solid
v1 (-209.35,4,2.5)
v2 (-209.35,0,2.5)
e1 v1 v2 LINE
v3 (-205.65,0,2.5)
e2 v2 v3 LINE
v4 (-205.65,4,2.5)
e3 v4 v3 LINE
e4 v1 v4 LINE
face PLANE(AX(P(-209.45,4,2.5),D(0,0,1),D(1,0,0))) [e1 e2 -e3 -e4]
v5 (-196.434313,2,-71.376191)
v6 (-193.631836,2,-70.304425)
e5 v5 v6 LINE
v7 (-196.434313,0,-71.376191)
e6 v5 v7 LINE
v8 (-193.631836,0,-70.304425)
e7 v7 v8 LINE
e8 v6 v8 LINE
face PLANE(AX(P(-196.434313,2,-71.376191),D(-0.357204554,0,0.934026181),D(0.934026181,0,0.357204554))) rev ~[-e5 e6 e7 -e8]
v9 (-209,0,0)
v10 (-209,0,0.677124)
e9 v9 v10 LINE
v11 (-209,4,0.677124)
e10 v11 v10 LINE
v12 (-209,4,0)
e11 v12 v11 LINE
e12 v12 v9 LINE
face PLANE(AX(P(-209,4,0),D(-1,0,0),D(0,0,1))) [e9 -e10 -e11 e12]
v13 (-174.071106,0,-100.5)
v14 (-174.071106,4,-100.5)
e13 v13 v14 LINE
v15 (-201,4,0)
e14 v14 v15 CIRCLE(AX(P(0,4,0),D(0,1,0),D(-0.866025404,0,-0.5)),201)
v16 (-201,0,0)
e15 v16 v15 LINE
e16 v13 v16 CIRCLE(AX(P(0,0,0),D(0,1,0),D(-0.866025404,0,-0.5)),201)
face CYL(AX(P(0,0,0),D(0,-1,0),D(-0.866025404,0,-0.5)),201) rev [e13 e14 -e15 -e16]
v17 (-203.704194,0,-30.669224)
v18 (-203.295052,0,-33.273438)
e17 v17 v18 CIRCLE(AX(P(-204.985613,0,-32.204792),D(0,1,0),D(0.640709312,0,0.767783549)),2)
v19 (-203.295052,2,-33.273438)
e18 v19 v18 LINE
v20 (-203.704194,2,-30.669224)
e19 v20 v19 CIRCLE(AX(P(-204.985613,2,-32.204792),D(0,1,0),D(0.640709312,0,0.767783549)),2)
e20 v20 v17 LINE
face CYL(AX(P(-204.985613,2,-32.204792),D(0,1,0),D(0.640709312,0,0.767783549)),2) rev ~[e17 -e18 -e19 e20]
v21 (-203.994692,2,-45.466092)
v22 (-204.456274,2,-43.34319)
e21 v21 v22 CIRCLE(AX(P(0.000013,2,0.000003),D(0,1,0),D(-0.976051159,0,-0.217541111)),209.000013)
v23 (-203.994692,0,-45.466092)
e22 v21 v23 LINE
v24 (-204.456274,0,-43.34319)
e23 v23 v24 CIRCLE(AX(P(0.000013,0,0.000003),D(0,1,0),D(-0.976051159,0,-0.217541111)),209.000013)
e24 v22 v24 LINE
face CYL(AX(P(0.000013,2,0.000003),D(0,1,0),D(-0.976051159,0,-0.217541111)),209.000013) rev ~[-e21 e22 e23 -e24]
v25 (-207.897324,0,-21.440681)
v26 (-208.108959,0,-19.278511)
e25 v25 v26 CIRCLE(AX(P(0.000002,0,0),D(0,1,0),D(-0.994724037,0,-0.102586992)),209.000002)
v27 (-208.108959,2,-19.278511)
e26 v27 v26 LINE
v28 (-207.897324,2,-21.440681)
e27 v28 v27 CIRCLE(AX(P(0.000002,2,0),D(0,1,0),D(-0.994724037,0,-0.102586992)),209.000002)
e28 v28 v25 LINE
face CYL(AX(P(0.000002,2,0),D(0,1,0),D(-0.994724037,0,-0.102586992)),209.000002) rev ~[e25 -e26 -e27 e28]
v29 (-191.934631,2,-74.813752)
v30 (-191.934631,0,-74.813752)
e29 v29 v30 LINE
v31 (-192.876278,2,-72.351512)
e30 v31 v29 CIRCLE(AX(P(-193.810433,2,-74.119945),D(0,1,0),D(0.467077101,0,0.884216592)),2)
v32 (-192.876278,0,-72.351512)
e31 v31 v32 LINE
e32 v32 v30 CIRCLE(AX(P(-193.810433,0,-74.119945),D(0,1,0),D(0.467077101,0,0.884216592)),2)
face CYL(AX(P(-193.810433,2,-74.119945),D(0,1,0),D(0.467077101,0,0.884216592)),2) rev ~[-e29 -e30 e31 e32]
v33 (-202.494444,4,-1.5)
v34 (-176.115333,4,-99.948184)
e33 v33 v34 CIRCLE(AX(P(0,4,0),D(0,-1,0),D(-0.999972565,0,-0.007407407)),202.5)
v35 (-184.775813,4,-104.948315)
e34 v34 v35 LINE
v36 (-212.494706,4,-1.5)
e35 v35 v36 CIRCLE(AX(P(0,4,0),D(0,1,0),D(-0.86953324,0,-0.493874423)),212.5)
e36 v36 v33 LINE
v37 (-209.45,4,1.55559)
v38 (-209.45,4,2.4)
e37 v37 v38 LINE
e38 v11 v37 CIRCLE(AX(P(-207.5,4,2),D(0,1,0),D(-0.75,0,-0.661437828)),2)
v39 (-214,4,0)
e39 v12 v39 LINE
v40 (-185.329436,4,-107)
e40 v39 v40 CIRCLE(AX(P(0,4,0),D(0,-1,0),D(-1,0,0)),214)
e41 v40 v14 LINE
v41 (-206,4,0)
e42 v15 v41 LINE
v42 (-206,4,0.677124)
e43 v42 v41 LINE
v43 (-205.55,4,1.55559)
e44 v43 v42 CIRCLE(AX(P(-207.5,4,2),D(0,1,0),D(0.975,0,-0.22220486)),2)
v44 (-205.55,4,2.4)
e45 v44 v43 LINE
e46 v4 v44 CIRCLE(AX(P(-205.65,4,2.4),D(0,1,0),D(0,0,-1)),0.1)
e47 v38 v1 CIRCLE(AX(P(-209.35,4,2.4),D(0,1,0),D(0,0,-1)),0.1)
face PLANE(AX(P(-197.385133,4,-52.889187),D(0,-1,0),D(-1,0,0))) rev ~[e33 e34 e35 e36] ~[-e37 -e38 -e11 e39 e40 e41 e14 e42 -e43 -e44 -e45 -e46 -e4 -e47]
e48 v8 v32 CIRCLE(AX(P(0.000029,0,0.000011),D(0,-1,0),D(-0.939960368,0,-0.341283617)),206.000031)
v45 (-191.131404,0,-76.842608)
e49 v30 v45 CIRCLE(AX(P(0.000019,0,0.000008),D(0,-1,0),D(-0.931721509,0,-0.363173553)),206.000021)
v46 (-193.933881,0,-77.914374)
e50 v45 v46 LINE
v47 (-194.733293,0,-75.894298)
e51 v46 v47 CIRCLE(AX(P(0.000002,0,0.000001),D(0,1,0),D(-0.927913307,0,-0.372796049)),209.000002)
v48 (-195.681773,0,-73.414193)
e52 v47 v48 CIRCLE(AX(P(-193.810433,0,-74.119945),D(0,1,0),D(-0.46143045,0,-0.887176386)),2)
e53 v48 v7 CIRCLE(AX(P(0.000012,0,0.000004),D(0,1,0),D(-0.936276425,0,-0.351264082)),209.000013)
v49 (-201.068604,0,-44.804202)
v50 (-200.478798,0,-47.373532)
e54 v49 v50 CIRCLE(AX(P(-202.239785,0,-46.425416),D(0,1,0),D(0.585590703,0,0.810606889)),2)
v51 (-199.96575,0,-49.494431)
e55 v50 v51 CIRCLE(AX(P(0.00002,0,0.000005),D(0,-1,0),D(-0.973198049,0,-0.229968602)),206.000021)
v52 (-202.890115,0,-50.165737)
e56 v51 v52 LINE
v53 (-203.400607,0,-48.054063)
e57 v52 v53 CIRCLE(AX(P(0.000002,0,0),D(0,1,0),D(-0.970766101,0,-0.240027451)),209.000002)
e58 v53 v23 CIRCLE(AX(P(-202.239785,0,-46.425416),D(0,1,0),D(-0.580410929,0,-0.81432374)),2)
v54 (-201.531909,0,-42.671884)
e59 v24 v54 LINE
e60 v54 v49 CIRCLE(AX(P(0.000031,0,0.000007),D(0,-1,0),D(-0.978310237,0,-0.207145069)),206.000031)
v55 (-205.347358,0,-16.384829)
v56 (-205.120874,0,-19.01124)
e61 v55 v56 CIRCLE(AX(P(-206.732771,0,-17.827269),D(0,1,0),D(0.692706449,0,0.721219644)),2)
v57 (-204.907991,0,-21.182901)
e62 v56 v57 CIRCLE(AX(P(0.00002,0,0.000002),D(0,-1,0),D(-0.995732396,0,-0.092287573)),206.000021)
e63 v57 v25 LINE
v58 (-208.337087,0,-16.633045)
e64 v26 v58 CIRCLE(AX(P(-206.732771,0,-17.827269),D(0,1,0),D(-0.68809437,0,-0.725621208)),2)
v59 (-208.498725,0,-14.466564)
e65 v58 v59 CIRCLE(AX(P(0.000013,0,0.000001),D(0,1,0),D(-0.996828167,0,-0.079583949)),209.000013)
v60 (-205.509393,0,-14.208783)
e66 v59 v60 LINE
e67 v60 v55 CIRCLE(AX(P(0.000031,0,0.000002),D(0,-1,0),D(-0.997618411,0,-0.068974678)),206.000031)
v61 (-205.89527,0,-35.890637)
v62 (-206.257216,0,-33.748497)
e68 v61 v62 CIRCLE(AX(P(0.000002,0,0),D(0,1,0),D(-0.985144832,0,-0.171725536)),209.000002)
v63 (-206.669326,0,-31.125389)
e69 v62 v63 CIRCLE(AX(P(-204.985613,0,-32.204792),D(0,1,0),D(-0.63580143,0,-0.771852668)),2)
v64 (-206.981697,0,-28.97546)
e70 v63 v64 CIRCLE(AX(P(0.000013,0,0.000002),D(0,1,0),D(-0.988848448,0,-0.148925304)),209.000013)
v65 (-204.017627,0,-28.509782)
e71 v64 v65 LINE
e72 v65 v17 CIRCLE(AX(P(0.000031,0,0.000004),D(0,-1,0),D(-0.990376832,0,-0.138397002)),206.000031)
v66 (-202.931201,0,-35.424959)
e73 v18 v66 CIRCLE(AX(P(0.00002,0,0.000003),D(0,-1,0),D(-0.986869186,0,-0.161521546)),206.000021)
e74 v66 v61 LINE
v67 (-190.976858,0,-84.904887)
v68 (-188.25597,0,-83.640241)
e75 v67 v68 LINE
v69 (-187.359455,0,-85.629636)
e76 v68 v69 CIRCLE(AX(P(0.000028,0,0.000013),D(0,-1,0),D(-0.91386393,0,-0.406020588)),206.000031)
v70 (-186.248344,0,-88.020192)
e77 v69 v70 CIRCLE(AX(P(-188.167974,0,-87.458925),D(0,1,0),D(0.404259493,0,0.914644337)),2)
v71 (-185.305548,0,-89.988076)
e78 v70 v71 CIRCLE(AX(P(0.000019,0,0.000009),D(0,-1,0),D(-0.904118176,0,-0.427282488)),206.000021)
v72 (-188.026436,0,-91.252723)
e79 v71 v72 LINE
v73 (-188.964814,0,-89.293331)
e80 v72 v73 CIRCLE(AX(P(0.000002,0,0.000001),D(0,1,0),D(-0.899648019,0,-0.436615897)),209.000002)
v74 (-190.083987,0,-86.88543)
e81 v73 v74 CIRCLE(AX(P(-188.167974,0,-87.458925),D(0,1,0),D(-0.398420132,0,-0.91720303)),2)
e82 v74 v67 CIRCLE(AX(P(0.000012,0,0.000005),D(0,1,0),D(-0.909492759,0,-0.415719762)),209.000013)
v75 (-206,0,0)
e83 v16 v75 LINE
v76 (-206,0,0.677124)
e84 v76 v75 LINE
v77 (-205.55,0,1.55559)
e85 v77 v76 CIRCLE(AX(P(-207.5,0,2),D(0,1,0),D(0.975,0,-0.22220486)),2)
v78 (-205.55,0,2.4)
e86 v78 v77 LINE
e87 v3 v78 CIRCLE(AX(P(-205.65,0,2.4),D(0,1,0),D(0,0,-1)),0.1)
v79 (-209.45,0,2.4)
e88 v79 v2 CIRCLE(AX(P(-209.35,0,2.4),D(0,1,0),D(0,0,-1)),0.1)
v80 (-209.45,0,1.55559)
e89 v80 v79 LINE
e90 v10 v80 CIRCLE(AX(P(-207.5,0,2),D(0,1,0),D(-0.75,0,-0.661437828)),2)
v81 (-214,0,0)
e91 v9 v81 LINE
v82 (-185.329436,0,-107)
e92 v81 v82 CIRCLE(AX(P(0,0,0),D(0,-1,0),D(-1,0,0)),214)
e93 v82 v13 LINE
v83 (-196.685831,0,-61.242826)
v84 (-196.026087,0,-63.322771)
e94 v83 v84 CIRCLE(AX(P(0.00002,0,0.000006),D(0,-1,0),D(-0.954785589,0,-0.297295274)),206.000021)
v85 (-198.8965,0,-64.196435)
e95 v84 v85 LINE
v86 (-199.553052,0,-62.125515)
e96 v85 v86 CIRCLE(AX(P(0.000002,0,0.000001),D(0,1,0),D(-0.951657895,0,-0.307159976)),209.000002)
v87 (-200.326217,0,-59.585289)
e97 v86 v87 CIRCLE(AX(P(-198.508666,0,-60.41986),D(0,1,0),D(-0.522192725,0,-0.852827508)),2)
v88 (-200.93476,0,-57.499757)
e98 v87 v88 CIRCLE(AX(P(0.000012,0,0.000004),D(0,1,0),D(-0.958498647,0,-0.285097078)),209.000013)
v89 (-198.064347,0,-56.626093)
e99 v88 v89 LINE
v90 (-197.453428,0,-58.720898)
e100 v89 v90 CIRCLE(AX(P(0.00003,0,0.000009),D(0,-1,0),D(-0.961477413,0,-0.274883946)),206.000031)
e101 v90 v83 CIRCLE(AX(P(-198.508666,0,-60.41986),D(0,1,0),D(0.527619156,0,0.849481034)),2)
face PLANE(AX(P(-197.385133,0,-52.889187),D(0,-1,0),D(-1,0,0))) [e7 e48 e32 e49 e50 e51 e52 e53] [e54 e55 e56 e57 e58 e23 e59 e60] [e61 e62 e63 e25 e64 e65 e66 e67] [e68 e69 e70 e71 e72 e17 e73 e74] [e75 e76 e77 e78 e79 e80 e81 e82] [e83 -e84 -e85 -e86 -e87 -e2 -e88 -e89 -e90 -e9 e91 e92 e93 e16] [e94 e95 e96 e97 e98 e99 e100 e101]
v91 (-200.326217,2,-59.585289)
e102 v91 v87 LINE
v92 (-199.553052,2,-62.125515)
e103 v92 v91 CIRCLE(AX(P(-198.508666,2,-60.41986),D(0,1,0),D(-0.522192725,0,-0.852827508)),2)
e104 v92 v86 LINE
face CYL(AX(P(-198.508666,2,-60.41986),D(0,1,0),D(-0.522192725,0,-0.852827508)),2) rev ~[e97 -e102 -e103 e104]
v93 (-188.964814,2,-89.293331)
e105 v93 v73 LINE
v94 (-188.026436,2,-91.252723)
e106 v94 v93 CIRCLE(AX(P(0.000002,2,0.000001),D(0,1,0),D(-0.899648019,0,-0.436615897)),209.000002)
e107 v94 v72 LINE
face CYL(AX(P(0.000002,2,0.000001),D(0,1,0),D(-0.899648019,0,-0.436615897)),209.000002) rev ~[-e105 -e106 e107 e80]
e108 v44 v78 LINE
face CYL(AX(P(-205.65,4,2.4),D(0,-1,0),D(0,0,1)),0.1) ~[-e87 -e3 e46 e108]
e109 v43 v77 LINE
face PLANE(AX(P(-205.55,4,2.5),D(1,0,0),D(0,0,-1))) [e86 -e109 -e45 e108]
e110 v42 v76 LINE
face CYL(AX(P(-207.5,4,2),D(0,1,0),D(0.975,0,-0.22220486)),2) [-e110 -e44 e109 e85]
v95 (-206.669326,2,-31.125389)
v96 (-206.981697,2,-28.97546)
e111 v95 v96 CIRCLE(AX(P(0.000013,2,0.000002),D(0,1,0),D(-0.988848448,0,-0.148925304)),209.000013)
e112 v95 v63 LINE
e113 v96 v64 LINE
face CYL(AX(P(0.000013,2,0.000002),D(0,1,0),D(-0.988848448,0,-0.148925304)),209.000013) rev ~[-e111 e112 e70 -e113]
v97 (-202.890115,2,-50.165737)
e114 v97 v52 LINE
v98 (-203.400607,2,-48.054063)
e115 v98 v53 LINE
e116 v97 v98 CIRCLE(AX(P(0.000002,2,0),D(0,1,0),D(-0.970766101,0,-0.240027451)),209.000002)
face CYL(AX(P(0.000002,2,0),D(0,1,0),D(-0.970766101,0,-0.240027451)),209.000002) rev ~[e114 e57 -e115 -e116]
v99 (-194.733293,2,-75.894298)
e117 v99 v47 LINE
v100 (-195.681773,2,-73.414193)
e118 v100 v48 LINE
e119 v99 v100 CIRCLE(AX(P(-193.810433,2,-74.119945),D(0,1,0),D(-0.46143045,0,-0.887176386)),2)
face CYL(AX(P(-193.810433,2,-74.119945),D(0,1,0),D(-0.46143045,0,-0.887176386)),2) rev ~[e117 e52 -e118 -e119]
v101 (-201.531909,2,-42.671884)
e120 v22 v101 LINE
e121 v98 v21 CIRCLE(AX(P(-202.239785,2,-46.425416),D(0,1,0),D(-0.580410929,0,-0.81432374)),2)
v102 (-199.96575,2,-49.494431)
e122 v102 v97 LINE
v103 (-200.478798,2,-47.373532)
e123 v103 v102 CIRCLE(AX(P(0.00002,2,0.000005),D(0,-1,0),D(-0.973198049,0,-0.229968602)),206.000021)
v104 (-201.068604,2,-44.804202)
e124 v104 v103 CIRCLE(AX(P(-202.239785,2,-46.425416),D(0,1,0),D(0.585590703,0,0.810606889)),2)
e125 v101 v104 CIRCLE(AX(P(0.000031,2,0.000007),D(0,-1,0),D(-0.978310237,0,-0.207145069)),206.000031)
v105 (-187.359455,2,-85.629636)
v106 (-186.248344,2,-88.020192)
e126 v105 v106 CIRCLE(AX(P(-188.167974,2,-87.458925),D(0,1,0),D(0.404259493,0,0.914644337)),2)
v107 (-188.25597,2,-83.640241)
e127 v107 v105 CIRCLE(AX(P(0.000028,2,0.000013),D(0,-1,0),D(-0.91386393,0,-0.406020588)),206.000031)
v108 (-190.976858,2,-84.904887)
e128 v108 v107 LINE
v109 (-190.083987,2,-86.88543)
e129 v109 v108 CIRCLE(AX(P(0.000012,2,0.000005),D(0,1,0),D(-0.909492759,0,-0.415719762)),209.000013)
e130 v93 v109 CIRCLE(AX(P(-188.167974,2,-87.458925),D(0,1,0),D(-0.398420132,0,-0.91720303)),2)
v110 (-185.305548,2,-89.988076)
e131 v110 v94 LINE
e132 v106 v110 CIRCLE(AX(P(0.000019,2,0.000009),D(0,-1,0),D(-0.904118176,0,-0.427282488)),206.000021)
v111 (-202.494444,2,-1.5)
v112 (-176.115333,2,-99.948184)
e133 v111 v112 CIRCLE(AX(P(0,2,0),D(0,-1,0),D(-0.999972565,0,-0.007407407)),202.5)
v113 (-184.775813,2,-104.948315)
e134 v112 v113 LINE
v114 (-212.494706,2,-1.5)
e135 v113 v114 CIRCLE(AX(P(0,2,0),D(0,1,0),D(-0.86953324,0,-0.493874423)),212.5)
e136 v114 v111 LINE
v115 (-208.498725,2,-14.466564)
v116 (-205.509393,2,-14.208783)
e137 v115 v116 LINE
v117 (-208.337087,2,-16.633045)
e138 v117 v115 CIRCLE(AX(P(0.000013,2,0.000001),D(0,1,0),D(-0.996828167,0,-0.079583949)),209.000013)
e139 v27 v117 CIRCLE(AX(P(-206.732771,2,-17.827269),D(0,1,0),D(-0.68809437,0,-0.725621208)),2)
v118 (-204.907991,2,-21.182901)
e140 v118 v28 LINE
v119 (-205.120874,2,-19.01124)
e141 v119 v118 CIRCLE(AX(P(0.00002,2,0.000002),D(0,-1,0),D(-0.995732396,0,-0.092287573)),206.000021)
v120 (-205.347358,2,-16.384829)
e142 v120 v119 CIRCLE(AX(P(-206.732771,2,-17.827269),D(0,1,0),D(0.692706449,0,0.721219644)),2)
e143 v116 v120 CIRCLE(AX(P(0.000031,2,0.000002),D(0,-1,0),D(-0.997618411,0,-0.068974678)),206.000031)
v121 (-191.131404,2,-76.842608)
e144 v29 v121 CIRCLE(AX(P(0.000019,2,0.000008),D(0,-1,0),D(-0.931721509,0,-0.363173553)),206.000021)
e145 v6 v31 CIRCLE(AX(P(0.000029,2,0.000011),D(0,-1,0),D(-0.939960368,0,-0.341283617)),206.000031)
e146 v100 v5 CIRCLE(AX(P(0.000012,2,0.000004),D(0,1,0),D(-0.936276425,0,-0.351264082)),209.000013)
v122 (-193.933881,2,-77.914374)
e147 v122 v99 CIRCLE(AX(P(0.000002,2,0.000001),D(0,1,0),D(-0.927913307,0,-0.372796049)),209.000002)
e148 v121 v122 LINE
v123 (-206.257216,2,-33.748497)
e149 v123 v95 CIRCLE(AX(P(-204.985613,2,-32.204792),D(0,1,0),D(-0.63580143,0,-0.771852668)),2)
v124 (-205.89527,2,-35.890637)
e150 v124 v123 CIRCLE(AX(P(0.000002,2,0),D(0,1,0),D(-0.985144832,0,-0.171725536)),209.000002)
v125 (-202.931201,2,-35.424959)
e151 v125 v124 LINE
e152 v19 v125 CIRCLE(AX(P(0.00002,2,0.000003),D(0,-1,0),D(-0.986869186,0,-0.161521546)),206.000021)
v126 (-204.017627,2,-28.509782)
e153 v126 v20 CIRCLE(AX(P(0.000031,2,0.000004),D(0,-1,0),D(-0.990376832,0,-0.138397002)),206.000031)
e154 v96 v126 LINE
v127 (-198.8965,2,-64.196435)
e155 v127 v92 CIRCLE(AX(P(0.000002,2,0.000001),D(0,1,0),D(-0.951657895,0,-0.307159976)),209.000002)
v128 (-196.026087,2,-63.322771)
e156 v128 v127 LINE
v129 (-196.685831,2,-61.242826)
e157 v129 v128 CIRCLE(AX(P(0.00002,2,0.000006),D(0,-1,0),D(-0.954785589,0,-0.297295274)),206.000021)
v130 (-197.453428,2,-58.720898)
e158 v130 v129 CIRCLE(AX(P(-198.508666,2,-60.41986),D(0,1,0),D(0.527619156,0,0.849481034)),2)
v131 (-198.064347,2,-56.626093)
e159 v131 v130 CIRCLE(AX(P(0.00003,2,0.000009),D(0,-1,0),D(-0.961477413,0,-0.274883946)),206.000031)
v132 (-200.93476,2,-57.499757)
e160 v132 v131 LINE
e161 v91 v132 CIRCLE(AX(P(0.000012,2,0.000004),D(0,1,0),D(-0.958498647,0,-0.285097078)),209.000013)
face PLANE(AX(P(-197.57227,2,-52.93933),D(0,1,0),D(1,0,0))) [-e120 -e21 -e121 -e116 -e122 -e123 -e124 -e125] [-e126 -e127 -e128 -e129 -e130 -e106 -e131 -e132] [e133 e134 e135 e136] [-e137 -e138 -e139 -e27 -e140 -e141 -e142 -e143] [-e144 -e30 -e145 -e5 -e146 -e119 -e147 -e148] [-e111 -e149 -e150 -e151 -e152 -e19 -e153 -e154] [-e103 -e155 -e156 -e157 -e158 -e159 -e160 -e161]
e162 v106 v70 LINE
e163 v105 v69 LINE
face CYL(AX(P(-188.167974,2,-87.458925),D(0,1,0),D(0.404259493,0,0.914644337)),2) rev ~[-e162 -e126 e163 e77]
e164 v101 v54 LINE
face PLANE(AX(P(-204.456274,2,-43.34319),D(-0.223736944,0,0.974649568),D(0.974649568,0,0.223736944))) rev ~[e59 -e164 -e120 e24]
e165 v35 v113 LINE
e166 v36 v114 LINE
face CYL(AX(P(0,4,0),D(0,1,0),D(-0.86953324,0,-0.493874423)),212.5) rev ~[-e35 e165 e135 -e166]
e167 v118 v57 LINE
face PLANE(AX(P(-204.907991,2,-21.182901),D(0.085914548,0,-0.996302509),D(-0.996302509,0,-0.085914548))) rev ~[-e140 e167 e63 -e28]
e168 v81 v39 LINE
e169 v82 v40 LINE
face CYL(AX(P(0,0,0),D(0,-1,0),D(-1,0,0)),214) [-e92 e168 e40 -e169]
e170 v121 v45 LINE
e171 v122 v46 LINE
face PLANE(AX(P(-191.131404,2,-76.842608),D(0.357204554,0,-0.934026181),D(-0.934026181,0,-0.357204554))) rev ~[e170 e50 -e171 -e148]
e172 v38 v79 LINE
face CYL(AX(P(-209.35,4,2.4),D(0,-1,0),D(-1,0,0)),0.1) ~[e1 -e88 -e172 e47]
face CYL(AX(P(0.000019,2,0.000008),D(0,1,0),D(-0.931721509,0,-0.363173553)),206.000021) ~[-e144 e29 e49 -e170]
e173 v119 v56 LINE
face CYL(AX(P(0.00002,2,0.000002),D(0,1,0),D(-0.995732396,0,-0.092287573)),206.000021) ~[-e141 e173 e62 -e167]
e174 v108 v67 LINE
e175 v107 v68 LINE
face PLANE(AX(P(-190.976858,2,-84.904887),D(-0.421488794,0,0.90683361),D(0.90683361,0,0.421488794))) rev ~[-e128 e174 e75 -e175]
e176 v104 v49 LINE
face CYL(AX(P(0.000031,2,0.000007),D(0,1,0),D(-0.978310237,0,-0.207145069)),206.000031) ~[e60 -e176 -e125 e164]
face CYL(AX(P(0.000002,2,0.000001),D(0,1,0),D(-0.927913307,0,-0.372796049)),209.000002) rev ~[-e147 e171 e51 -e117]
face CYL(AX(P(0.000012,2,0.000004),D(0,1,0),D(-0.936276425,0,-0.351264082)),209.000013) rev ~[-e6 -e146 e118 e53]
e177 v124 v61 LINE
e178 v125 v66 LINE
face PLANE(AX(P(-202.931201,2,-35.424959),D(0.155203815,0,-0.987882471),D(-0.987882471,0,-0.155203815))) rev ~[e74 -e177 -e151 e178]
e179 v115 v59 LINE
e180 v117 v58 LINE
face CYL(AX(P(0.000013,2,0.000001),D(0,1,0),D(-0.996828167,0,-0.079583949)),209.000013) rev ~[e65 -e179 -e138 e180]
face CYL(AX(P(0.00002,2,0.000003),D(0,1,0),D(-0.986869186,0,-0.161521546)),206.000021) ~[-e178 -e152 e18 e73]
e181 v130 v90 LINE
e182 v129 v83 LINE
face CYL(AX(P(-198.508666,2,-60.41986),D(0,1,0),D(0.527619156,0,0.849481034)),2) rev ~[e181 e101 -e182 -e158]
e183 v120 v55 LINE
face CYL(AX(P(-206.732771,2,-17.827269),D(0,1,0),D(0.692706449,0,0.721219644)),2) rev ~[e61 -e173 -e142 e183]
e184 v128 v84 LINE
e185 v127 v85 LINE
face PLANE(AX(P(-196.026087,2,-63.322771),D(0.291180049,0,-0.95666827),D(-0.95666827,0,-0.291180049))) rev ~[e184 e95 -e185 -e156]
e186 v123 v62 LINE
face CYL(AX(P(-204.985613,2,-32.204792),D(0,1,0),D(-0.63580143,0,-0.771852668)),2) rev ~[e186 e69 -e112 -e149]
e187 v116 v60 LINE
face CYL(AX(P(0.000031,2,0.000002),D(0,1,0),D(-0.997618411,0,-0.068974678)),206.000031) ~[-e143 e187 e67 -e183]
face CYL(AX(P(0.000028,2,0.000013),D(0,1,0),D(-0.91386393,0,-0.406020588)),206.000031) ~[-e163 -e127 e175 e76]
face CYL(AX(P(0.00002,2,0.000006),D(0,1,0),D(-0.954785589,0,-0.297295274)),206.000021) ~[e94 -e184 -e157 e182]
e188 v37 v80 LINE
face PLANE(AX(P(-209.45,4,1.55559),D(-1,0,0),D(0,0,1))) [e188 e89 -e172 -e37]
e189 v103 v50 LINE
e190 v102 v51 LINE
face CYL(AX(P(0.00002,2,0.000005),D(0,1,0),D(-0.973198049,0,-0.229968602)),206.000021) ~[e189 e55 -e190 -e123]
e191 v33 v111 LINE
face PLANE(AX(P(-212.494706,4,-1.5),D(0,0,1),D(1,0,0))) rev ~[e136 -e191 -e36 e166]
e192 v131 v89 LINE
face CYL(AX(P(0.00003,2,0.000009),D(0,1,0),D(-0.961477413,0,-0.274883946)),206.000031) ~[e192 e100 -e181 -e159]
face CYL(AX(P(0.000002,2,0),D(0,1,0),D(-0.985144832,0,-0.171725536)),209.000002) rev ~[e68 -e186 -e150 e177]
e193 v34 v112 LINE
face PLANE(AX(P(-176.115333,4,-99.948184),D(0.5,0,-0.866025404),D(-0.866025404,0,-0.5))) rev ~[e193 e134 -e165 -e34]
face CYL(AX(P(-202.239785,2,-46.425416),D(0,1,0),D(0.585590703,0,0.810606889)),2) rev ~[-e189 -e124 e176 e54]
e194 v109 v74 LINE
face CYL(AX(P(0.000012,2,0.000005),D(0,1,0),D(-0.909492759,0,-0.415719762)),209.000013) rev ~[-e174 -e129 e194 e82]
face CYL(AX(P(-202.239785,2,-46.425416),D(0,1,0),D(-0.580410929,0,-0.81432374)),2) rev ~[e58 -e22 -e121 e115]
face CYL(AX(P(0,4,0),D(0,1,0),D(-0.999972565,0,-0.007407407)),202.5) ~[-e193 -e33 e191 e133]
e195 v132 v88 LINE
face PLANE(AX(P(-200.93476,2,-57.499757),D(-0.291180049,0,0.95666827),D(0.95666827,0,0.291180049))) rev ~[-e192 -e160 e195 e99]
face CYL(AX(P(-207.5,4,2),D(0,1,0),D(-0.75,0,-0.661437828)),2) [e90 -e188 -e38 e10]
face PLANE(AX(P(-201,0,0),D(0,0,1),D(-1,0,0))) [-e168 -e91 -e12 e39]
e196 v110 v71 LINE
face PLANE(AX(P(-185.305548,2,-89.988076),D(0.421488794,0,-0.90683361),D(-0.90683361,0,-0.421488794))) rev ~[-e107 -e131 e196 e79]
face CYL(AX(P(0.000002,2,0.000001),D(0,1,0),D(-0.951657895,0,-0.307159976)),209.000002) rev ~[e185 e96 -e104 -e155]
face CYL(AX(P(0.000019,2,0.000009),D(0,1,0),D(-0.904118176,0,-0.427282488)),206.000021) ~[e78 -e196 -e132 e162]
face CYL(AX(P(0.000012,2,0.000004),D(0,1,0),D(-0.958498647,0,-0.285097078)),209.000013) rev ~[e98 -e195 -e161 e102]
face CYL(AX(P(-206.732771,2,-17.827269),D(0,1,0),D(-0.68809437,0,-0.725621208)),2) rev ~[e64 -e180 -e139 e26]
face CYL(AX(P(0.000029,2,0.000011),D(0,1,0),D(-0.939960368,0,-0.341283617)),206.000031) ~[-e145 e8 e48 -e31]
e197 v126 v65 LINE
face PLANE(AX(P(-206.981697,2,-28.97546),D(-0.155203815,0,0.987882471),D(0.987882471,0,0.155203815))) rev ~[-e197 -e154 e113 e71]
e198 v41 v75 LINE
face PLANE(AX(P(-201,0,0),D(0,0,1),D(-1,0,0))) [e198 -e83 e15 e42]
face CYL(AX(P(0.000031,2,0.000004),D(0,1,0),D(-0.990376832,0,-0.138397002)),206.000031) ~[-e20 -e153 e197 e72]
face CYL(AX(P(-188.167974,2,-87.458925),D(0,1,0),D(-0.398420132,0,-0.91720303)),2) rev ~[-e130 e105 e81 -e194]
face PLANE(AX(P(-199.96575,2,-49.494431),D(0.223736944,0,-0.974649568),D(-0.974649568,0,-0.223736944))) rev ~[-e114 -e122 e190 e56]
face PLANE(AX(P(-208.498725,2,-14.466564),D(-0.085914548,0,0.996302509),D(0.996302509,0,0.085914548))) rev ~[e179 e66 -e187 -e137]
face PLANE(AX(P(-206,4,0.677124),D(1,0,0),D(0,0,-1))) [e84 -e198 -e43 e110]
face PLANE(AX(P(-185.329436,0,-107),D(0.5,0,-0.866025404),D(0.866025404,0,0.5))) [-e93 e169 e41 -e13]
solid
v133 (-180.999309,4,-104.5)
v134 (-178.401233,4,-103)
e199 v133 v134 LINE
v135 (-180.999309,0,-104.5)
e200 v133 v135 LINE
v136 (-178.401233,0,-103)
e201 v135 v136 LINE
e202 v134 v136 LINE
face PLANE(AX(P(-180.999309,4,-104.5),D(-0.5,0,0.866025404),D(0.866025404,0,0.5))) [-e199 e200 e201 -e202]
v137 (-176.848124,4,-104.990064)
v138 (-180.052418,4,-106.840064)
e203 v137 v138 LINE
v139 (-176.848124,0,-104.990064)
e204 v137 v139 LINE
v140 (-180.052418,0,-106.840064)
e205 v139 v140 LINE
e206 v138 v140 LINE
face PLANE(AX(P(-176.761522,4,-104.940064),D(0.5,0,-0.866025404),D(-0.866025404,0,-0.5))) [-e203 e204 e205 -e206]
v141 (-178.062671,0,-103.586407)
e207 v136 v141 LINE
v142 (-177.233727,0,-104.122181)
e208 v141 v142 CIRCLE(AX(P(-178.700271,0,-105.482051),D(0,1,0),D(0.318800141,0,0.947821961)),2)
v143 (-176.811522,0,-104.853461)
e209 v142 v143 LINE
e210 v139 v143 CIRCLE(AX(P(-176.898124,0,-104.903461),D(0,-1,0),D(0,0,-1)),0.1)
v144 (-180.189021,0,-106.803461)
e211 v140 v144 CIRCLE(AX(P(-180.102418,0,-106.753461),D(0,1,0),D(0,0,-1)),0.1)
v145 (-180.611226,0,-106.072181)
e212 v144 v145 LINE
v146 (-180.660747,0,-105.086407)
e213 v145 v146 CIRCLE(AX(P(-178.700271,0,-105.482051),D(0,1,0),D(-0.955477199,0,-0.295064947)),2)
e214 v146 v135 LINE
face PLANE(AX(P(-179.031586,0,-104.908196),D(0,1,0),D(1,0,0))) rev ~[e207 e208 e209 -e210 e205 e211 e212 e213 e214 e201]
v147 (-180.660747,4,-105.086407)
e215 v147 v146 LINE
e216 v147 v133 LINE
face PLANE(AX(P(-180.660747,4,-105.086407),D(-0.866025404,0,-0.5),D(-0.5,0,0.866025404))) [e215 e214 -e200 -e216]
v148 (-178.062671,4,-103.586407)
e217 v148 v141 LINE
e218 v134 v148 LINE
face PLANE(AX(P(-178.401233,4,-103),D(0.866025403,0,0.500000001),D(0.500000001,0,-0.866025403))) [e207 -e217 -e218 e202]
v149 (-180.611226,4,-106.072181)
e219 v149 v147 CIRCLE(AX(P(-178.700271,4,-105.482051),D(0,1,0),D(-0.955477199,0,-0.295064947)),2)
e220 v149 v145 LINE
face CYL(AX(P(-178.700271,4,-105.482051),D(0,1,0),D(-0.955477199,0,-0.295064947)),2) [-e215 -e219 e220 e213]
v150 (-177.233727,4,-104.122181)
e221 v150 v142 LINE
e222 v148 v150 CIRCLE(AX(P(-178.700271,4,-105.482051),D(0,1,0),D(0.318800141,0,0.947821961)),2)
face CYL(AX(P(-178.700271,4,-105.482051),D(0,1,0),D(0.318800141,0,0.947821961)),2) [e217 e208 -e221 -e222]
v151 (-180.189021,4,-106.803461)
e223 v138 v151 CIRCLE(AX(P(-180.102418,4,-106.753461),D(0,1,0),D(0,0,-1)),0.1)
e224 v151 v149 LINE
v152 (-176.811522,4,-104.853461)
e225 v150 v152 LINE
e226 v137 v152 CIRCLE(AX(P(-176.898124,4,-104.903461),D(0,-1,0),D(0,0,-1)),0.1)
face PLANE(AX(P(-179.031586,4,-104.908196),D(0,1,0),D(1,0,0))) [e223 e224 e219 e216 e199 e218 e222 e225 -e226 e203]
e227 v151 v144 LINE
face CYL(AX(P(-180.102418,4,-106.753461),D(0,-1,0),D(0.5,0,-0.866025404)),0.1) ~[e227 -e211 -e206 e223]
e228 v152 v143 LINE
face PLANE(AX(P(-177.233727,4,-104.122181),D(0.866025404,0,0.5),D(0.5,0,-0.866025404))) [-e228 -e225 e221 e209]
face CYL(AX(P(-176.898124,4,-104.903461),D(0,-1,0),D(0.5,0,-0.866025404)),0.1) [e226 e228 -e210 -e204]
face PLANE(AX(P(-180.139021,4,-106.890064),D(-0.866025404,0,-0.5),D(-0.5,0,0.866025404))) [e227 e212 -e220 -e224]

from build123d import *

# Parameters (mm, degrees)
EXTRUDE_1_DEPTH          = 4
CUT_EXTRUDE_1_DEPTH      = 2
CUT_EXTRUDE_2_DEPTH      = 2
PATTERN_CIRCULAR_1_COUNT = 3
PATTERN_CIRCULAR_1_ANGLE = 8
PATTERN_CIRCULAR_2_COUNT = 4
PATTERN_CIRCULAR_2_ANGLE = 12
EXTRUDE_2_DEPTH          = 4
EXTRUDE_3_DEPTH          = 4
FILLET_1_R               = 0.1
FILLET_2_R               = 0.1


with BuildPart() as part:
    # 草图1 → 凸台-拉伸1 (new body)
    with BuildSketch(Plane(origin=(0, 0, 0), x_dir=(1, 0, 0), z_dir=(0, 1, 0))):
        with BuildLine():
            Line((-201, 0), (-214, 0))
            ThreePointArc((-214, 0), (-206.708126826, 55.387275652), (-185.32943641, 107))
            Line((-185.32943641, 107), (-174.071106161, 100.5))
            ThreePointArc((-174.071106161, 100.5), (-194.151091084, 52.022628066), (-201, 0))
        make_face()
    extrude(amount=EXTRUDE_1_DEPTH)

    # 草图2 → 切除-拉伸1 (cut)
    with BuildSketch(Plane(origin=(0, 4, 0), x_dir=(1, 0, 0), z_dir=(0, 1, 0))):
        with BuildLine():
            Line((-212.494705816, 1.5), (-202.494444368, 1.5))
            ThreePointArc((-202.494444368, 1.5), (-195.599979824, 52.410856633), (-176.115332948, 99.948184078))
            Line((-176.115332948, 99.948184078), (-184.775813407, 104.948314803))
            ThreePointArc((-184.775813407, 104.948314803), (-205.259238086, 54.999047084), (-212.494705816, 1.5))
        make_face()
    extrude(amount=-CUT_EXTRUDE_1_DEPTH, mode=Mode.SUBTRACT)

    # 草图3 → 切除-拉伸2 (cut)
    with BuildSketch(Plane(origin=(0, 2, 0), x_dir=(1, 0, 0), z_dir=(0, 1, 0))):
        with BuildLine():
            Line((-199.965750312, 49.494431021), (-202.890115075, 50.165737361))
            ThreePointArc((-202.890115075, 50.165737361), (-203.148104938, 49.11056363), (-203.400607182, 48.054063281))
            ThreePointArc((-203.400607182, 48.054063281), (-204.189084459, 46.872889689), (-203.994692232, 45.466092215))
            ThreePointArc((-203.994692232, 45.466092215), (-204.228241354, 44.405241058), (-204.45627368, 43.343190386))
            Line((-204.45627368, 43.343190386), (-201.531908918, 42.671884046))
            ThreePointArc((-201.531908918, 42.671884046), (-201.303079779, 43.738656489), (-201.068603917, 44.804202024))
            ThreePointArc((-201.068603917, 44.804202024), (-200.290486188, 45.977941915), (-200.478798091, 47.37353181))
            ThreePointArc((-200.478798091, 47.37353181), (-200.225082444, 48.434660732), (-199.965750312, 49.494431021))
        make_face()
    cut_extrude_2 = extrude(amount=-CUT_EXTRUDE_2_DEPTH, mode=Mode.SUBTRACT)

    # 阵列(圆周)1: 切除-拉伸2 ×3 about axis
    pattern_circular_1_axis = Axis((0, 0, 0), (0, 1, 0))
    for i in range(1, PATTERN_CIRCULAR_1_COUNT):
        add(cut_extrude_2.rotate(pattern_circular_1_axis, i * PATTERN_CIRCULAR_1_ANGLE / (PATTERN_CIRCULAR_1_COUNT - 1)), mode=Mode.SUBTRACT)

    # 阵列(圆周)2: 切除-拉伸2 ×4 about axis
    pattern_circular_2_axis = Axis((0, 0, 0), (0, -1, 0))
    for i in range(1, PATTERN_CIRCULAR_2_COUNT):
        add(cut_extrude_2.rotate(pattern_circular_2_axis, i * PATTERN_CIRCULAR_2_ANGLE / (PATTERN_CIRCULAR_2_COUNT - 1)), mode=Mode.SUBTRACT)

    # 草图5 → 凸台-拉伸3 (add)
    with BuildSketch(Plane(origin=(0, 4, 0), x_dir=(1, 0, 0), z_dir=(0, 1, 0))):
        with BuildLine():
            Line((-206, 0), (-209, 0))
            Line((-209, 0), (-209, -0.677124344))
            ThreePointArc((-209, -0.677124344), (-209.280042303, -1.088161527), (-209.45, -1.555590279))
            Line((-209.45, -1.555590279), (-209.45, -2.5))
            Line((-209.45, -2.5), (-205.55, -2.5))
            Line((-205.55, -2.5), (-205.55, -1.555590279))
            ThreePointArc((-205.55, -1.555590279), (-205.719957697, -1.088161527), (-206, -0.677124344))
            Line((-206, -0.677124344), (-206, 0))
        make_face()
    extrude(amount=-EXTRUDE_3_DEPTH)

    # 圆角2
    fillet_2_edges = [part.edges().sort_by_distance(p)[0] for p in [
        (-205.55, 2, 2.5),
        (-209.45, 2, 2.5),
    ]]
    fillet(fillet_2_edges, radius=FILLET_2_R)


with BuildPart() as body_2:
    # 草图4 → 凸台-拉伸2 (new body)
    with BuildSketch(Plane(origin=(0, 4, 0), x_dir=(1, 0, 0), z_dir=(0, 1, 0))):
        with BuildLine():
            Line((-176.761521748, 104.940063509), (-180.139020823, 106.890063509))
            Line((-180.139020823, 106.890063509), (-180.611225683, 106.0721807))
            ThreePointArc((-180.611225683, 106.0721807), (-180.697752376, 105.582396677), (-180.660747219, 105.086406884))
            Line((-180.660747219, 105.086406884), (-180.999309391, 104.5))
            Line((-180.999309391, 104.5), (-178.40123318, 103))
            Line((-178.40123318, 103), (-178.062671007, 103.586406884))
            ThreePointArc((-178.062671007, 103.586406884), (-177.614628668, 103.802354375), (-177.233726608, 104.1221807))
            Line((-177.233726608, 104.1221807), (-176.761521748, 104.940063509))
        make_face()
    extrude(amount=-EXTRUDE_2_DEPTH)

    # 圆角1
    fillet_1_edges = [body_2.edges().sort_by_distance(p)[0] for p in [
        (-180.139020823, 2, -106.890063509),
        (-176.761521748, 2, -104.940063509),
    ]]
    fillet(fillet_1_edges, radius=FILLET_1_R)


solid = Compound([part.part, body_2.part])
